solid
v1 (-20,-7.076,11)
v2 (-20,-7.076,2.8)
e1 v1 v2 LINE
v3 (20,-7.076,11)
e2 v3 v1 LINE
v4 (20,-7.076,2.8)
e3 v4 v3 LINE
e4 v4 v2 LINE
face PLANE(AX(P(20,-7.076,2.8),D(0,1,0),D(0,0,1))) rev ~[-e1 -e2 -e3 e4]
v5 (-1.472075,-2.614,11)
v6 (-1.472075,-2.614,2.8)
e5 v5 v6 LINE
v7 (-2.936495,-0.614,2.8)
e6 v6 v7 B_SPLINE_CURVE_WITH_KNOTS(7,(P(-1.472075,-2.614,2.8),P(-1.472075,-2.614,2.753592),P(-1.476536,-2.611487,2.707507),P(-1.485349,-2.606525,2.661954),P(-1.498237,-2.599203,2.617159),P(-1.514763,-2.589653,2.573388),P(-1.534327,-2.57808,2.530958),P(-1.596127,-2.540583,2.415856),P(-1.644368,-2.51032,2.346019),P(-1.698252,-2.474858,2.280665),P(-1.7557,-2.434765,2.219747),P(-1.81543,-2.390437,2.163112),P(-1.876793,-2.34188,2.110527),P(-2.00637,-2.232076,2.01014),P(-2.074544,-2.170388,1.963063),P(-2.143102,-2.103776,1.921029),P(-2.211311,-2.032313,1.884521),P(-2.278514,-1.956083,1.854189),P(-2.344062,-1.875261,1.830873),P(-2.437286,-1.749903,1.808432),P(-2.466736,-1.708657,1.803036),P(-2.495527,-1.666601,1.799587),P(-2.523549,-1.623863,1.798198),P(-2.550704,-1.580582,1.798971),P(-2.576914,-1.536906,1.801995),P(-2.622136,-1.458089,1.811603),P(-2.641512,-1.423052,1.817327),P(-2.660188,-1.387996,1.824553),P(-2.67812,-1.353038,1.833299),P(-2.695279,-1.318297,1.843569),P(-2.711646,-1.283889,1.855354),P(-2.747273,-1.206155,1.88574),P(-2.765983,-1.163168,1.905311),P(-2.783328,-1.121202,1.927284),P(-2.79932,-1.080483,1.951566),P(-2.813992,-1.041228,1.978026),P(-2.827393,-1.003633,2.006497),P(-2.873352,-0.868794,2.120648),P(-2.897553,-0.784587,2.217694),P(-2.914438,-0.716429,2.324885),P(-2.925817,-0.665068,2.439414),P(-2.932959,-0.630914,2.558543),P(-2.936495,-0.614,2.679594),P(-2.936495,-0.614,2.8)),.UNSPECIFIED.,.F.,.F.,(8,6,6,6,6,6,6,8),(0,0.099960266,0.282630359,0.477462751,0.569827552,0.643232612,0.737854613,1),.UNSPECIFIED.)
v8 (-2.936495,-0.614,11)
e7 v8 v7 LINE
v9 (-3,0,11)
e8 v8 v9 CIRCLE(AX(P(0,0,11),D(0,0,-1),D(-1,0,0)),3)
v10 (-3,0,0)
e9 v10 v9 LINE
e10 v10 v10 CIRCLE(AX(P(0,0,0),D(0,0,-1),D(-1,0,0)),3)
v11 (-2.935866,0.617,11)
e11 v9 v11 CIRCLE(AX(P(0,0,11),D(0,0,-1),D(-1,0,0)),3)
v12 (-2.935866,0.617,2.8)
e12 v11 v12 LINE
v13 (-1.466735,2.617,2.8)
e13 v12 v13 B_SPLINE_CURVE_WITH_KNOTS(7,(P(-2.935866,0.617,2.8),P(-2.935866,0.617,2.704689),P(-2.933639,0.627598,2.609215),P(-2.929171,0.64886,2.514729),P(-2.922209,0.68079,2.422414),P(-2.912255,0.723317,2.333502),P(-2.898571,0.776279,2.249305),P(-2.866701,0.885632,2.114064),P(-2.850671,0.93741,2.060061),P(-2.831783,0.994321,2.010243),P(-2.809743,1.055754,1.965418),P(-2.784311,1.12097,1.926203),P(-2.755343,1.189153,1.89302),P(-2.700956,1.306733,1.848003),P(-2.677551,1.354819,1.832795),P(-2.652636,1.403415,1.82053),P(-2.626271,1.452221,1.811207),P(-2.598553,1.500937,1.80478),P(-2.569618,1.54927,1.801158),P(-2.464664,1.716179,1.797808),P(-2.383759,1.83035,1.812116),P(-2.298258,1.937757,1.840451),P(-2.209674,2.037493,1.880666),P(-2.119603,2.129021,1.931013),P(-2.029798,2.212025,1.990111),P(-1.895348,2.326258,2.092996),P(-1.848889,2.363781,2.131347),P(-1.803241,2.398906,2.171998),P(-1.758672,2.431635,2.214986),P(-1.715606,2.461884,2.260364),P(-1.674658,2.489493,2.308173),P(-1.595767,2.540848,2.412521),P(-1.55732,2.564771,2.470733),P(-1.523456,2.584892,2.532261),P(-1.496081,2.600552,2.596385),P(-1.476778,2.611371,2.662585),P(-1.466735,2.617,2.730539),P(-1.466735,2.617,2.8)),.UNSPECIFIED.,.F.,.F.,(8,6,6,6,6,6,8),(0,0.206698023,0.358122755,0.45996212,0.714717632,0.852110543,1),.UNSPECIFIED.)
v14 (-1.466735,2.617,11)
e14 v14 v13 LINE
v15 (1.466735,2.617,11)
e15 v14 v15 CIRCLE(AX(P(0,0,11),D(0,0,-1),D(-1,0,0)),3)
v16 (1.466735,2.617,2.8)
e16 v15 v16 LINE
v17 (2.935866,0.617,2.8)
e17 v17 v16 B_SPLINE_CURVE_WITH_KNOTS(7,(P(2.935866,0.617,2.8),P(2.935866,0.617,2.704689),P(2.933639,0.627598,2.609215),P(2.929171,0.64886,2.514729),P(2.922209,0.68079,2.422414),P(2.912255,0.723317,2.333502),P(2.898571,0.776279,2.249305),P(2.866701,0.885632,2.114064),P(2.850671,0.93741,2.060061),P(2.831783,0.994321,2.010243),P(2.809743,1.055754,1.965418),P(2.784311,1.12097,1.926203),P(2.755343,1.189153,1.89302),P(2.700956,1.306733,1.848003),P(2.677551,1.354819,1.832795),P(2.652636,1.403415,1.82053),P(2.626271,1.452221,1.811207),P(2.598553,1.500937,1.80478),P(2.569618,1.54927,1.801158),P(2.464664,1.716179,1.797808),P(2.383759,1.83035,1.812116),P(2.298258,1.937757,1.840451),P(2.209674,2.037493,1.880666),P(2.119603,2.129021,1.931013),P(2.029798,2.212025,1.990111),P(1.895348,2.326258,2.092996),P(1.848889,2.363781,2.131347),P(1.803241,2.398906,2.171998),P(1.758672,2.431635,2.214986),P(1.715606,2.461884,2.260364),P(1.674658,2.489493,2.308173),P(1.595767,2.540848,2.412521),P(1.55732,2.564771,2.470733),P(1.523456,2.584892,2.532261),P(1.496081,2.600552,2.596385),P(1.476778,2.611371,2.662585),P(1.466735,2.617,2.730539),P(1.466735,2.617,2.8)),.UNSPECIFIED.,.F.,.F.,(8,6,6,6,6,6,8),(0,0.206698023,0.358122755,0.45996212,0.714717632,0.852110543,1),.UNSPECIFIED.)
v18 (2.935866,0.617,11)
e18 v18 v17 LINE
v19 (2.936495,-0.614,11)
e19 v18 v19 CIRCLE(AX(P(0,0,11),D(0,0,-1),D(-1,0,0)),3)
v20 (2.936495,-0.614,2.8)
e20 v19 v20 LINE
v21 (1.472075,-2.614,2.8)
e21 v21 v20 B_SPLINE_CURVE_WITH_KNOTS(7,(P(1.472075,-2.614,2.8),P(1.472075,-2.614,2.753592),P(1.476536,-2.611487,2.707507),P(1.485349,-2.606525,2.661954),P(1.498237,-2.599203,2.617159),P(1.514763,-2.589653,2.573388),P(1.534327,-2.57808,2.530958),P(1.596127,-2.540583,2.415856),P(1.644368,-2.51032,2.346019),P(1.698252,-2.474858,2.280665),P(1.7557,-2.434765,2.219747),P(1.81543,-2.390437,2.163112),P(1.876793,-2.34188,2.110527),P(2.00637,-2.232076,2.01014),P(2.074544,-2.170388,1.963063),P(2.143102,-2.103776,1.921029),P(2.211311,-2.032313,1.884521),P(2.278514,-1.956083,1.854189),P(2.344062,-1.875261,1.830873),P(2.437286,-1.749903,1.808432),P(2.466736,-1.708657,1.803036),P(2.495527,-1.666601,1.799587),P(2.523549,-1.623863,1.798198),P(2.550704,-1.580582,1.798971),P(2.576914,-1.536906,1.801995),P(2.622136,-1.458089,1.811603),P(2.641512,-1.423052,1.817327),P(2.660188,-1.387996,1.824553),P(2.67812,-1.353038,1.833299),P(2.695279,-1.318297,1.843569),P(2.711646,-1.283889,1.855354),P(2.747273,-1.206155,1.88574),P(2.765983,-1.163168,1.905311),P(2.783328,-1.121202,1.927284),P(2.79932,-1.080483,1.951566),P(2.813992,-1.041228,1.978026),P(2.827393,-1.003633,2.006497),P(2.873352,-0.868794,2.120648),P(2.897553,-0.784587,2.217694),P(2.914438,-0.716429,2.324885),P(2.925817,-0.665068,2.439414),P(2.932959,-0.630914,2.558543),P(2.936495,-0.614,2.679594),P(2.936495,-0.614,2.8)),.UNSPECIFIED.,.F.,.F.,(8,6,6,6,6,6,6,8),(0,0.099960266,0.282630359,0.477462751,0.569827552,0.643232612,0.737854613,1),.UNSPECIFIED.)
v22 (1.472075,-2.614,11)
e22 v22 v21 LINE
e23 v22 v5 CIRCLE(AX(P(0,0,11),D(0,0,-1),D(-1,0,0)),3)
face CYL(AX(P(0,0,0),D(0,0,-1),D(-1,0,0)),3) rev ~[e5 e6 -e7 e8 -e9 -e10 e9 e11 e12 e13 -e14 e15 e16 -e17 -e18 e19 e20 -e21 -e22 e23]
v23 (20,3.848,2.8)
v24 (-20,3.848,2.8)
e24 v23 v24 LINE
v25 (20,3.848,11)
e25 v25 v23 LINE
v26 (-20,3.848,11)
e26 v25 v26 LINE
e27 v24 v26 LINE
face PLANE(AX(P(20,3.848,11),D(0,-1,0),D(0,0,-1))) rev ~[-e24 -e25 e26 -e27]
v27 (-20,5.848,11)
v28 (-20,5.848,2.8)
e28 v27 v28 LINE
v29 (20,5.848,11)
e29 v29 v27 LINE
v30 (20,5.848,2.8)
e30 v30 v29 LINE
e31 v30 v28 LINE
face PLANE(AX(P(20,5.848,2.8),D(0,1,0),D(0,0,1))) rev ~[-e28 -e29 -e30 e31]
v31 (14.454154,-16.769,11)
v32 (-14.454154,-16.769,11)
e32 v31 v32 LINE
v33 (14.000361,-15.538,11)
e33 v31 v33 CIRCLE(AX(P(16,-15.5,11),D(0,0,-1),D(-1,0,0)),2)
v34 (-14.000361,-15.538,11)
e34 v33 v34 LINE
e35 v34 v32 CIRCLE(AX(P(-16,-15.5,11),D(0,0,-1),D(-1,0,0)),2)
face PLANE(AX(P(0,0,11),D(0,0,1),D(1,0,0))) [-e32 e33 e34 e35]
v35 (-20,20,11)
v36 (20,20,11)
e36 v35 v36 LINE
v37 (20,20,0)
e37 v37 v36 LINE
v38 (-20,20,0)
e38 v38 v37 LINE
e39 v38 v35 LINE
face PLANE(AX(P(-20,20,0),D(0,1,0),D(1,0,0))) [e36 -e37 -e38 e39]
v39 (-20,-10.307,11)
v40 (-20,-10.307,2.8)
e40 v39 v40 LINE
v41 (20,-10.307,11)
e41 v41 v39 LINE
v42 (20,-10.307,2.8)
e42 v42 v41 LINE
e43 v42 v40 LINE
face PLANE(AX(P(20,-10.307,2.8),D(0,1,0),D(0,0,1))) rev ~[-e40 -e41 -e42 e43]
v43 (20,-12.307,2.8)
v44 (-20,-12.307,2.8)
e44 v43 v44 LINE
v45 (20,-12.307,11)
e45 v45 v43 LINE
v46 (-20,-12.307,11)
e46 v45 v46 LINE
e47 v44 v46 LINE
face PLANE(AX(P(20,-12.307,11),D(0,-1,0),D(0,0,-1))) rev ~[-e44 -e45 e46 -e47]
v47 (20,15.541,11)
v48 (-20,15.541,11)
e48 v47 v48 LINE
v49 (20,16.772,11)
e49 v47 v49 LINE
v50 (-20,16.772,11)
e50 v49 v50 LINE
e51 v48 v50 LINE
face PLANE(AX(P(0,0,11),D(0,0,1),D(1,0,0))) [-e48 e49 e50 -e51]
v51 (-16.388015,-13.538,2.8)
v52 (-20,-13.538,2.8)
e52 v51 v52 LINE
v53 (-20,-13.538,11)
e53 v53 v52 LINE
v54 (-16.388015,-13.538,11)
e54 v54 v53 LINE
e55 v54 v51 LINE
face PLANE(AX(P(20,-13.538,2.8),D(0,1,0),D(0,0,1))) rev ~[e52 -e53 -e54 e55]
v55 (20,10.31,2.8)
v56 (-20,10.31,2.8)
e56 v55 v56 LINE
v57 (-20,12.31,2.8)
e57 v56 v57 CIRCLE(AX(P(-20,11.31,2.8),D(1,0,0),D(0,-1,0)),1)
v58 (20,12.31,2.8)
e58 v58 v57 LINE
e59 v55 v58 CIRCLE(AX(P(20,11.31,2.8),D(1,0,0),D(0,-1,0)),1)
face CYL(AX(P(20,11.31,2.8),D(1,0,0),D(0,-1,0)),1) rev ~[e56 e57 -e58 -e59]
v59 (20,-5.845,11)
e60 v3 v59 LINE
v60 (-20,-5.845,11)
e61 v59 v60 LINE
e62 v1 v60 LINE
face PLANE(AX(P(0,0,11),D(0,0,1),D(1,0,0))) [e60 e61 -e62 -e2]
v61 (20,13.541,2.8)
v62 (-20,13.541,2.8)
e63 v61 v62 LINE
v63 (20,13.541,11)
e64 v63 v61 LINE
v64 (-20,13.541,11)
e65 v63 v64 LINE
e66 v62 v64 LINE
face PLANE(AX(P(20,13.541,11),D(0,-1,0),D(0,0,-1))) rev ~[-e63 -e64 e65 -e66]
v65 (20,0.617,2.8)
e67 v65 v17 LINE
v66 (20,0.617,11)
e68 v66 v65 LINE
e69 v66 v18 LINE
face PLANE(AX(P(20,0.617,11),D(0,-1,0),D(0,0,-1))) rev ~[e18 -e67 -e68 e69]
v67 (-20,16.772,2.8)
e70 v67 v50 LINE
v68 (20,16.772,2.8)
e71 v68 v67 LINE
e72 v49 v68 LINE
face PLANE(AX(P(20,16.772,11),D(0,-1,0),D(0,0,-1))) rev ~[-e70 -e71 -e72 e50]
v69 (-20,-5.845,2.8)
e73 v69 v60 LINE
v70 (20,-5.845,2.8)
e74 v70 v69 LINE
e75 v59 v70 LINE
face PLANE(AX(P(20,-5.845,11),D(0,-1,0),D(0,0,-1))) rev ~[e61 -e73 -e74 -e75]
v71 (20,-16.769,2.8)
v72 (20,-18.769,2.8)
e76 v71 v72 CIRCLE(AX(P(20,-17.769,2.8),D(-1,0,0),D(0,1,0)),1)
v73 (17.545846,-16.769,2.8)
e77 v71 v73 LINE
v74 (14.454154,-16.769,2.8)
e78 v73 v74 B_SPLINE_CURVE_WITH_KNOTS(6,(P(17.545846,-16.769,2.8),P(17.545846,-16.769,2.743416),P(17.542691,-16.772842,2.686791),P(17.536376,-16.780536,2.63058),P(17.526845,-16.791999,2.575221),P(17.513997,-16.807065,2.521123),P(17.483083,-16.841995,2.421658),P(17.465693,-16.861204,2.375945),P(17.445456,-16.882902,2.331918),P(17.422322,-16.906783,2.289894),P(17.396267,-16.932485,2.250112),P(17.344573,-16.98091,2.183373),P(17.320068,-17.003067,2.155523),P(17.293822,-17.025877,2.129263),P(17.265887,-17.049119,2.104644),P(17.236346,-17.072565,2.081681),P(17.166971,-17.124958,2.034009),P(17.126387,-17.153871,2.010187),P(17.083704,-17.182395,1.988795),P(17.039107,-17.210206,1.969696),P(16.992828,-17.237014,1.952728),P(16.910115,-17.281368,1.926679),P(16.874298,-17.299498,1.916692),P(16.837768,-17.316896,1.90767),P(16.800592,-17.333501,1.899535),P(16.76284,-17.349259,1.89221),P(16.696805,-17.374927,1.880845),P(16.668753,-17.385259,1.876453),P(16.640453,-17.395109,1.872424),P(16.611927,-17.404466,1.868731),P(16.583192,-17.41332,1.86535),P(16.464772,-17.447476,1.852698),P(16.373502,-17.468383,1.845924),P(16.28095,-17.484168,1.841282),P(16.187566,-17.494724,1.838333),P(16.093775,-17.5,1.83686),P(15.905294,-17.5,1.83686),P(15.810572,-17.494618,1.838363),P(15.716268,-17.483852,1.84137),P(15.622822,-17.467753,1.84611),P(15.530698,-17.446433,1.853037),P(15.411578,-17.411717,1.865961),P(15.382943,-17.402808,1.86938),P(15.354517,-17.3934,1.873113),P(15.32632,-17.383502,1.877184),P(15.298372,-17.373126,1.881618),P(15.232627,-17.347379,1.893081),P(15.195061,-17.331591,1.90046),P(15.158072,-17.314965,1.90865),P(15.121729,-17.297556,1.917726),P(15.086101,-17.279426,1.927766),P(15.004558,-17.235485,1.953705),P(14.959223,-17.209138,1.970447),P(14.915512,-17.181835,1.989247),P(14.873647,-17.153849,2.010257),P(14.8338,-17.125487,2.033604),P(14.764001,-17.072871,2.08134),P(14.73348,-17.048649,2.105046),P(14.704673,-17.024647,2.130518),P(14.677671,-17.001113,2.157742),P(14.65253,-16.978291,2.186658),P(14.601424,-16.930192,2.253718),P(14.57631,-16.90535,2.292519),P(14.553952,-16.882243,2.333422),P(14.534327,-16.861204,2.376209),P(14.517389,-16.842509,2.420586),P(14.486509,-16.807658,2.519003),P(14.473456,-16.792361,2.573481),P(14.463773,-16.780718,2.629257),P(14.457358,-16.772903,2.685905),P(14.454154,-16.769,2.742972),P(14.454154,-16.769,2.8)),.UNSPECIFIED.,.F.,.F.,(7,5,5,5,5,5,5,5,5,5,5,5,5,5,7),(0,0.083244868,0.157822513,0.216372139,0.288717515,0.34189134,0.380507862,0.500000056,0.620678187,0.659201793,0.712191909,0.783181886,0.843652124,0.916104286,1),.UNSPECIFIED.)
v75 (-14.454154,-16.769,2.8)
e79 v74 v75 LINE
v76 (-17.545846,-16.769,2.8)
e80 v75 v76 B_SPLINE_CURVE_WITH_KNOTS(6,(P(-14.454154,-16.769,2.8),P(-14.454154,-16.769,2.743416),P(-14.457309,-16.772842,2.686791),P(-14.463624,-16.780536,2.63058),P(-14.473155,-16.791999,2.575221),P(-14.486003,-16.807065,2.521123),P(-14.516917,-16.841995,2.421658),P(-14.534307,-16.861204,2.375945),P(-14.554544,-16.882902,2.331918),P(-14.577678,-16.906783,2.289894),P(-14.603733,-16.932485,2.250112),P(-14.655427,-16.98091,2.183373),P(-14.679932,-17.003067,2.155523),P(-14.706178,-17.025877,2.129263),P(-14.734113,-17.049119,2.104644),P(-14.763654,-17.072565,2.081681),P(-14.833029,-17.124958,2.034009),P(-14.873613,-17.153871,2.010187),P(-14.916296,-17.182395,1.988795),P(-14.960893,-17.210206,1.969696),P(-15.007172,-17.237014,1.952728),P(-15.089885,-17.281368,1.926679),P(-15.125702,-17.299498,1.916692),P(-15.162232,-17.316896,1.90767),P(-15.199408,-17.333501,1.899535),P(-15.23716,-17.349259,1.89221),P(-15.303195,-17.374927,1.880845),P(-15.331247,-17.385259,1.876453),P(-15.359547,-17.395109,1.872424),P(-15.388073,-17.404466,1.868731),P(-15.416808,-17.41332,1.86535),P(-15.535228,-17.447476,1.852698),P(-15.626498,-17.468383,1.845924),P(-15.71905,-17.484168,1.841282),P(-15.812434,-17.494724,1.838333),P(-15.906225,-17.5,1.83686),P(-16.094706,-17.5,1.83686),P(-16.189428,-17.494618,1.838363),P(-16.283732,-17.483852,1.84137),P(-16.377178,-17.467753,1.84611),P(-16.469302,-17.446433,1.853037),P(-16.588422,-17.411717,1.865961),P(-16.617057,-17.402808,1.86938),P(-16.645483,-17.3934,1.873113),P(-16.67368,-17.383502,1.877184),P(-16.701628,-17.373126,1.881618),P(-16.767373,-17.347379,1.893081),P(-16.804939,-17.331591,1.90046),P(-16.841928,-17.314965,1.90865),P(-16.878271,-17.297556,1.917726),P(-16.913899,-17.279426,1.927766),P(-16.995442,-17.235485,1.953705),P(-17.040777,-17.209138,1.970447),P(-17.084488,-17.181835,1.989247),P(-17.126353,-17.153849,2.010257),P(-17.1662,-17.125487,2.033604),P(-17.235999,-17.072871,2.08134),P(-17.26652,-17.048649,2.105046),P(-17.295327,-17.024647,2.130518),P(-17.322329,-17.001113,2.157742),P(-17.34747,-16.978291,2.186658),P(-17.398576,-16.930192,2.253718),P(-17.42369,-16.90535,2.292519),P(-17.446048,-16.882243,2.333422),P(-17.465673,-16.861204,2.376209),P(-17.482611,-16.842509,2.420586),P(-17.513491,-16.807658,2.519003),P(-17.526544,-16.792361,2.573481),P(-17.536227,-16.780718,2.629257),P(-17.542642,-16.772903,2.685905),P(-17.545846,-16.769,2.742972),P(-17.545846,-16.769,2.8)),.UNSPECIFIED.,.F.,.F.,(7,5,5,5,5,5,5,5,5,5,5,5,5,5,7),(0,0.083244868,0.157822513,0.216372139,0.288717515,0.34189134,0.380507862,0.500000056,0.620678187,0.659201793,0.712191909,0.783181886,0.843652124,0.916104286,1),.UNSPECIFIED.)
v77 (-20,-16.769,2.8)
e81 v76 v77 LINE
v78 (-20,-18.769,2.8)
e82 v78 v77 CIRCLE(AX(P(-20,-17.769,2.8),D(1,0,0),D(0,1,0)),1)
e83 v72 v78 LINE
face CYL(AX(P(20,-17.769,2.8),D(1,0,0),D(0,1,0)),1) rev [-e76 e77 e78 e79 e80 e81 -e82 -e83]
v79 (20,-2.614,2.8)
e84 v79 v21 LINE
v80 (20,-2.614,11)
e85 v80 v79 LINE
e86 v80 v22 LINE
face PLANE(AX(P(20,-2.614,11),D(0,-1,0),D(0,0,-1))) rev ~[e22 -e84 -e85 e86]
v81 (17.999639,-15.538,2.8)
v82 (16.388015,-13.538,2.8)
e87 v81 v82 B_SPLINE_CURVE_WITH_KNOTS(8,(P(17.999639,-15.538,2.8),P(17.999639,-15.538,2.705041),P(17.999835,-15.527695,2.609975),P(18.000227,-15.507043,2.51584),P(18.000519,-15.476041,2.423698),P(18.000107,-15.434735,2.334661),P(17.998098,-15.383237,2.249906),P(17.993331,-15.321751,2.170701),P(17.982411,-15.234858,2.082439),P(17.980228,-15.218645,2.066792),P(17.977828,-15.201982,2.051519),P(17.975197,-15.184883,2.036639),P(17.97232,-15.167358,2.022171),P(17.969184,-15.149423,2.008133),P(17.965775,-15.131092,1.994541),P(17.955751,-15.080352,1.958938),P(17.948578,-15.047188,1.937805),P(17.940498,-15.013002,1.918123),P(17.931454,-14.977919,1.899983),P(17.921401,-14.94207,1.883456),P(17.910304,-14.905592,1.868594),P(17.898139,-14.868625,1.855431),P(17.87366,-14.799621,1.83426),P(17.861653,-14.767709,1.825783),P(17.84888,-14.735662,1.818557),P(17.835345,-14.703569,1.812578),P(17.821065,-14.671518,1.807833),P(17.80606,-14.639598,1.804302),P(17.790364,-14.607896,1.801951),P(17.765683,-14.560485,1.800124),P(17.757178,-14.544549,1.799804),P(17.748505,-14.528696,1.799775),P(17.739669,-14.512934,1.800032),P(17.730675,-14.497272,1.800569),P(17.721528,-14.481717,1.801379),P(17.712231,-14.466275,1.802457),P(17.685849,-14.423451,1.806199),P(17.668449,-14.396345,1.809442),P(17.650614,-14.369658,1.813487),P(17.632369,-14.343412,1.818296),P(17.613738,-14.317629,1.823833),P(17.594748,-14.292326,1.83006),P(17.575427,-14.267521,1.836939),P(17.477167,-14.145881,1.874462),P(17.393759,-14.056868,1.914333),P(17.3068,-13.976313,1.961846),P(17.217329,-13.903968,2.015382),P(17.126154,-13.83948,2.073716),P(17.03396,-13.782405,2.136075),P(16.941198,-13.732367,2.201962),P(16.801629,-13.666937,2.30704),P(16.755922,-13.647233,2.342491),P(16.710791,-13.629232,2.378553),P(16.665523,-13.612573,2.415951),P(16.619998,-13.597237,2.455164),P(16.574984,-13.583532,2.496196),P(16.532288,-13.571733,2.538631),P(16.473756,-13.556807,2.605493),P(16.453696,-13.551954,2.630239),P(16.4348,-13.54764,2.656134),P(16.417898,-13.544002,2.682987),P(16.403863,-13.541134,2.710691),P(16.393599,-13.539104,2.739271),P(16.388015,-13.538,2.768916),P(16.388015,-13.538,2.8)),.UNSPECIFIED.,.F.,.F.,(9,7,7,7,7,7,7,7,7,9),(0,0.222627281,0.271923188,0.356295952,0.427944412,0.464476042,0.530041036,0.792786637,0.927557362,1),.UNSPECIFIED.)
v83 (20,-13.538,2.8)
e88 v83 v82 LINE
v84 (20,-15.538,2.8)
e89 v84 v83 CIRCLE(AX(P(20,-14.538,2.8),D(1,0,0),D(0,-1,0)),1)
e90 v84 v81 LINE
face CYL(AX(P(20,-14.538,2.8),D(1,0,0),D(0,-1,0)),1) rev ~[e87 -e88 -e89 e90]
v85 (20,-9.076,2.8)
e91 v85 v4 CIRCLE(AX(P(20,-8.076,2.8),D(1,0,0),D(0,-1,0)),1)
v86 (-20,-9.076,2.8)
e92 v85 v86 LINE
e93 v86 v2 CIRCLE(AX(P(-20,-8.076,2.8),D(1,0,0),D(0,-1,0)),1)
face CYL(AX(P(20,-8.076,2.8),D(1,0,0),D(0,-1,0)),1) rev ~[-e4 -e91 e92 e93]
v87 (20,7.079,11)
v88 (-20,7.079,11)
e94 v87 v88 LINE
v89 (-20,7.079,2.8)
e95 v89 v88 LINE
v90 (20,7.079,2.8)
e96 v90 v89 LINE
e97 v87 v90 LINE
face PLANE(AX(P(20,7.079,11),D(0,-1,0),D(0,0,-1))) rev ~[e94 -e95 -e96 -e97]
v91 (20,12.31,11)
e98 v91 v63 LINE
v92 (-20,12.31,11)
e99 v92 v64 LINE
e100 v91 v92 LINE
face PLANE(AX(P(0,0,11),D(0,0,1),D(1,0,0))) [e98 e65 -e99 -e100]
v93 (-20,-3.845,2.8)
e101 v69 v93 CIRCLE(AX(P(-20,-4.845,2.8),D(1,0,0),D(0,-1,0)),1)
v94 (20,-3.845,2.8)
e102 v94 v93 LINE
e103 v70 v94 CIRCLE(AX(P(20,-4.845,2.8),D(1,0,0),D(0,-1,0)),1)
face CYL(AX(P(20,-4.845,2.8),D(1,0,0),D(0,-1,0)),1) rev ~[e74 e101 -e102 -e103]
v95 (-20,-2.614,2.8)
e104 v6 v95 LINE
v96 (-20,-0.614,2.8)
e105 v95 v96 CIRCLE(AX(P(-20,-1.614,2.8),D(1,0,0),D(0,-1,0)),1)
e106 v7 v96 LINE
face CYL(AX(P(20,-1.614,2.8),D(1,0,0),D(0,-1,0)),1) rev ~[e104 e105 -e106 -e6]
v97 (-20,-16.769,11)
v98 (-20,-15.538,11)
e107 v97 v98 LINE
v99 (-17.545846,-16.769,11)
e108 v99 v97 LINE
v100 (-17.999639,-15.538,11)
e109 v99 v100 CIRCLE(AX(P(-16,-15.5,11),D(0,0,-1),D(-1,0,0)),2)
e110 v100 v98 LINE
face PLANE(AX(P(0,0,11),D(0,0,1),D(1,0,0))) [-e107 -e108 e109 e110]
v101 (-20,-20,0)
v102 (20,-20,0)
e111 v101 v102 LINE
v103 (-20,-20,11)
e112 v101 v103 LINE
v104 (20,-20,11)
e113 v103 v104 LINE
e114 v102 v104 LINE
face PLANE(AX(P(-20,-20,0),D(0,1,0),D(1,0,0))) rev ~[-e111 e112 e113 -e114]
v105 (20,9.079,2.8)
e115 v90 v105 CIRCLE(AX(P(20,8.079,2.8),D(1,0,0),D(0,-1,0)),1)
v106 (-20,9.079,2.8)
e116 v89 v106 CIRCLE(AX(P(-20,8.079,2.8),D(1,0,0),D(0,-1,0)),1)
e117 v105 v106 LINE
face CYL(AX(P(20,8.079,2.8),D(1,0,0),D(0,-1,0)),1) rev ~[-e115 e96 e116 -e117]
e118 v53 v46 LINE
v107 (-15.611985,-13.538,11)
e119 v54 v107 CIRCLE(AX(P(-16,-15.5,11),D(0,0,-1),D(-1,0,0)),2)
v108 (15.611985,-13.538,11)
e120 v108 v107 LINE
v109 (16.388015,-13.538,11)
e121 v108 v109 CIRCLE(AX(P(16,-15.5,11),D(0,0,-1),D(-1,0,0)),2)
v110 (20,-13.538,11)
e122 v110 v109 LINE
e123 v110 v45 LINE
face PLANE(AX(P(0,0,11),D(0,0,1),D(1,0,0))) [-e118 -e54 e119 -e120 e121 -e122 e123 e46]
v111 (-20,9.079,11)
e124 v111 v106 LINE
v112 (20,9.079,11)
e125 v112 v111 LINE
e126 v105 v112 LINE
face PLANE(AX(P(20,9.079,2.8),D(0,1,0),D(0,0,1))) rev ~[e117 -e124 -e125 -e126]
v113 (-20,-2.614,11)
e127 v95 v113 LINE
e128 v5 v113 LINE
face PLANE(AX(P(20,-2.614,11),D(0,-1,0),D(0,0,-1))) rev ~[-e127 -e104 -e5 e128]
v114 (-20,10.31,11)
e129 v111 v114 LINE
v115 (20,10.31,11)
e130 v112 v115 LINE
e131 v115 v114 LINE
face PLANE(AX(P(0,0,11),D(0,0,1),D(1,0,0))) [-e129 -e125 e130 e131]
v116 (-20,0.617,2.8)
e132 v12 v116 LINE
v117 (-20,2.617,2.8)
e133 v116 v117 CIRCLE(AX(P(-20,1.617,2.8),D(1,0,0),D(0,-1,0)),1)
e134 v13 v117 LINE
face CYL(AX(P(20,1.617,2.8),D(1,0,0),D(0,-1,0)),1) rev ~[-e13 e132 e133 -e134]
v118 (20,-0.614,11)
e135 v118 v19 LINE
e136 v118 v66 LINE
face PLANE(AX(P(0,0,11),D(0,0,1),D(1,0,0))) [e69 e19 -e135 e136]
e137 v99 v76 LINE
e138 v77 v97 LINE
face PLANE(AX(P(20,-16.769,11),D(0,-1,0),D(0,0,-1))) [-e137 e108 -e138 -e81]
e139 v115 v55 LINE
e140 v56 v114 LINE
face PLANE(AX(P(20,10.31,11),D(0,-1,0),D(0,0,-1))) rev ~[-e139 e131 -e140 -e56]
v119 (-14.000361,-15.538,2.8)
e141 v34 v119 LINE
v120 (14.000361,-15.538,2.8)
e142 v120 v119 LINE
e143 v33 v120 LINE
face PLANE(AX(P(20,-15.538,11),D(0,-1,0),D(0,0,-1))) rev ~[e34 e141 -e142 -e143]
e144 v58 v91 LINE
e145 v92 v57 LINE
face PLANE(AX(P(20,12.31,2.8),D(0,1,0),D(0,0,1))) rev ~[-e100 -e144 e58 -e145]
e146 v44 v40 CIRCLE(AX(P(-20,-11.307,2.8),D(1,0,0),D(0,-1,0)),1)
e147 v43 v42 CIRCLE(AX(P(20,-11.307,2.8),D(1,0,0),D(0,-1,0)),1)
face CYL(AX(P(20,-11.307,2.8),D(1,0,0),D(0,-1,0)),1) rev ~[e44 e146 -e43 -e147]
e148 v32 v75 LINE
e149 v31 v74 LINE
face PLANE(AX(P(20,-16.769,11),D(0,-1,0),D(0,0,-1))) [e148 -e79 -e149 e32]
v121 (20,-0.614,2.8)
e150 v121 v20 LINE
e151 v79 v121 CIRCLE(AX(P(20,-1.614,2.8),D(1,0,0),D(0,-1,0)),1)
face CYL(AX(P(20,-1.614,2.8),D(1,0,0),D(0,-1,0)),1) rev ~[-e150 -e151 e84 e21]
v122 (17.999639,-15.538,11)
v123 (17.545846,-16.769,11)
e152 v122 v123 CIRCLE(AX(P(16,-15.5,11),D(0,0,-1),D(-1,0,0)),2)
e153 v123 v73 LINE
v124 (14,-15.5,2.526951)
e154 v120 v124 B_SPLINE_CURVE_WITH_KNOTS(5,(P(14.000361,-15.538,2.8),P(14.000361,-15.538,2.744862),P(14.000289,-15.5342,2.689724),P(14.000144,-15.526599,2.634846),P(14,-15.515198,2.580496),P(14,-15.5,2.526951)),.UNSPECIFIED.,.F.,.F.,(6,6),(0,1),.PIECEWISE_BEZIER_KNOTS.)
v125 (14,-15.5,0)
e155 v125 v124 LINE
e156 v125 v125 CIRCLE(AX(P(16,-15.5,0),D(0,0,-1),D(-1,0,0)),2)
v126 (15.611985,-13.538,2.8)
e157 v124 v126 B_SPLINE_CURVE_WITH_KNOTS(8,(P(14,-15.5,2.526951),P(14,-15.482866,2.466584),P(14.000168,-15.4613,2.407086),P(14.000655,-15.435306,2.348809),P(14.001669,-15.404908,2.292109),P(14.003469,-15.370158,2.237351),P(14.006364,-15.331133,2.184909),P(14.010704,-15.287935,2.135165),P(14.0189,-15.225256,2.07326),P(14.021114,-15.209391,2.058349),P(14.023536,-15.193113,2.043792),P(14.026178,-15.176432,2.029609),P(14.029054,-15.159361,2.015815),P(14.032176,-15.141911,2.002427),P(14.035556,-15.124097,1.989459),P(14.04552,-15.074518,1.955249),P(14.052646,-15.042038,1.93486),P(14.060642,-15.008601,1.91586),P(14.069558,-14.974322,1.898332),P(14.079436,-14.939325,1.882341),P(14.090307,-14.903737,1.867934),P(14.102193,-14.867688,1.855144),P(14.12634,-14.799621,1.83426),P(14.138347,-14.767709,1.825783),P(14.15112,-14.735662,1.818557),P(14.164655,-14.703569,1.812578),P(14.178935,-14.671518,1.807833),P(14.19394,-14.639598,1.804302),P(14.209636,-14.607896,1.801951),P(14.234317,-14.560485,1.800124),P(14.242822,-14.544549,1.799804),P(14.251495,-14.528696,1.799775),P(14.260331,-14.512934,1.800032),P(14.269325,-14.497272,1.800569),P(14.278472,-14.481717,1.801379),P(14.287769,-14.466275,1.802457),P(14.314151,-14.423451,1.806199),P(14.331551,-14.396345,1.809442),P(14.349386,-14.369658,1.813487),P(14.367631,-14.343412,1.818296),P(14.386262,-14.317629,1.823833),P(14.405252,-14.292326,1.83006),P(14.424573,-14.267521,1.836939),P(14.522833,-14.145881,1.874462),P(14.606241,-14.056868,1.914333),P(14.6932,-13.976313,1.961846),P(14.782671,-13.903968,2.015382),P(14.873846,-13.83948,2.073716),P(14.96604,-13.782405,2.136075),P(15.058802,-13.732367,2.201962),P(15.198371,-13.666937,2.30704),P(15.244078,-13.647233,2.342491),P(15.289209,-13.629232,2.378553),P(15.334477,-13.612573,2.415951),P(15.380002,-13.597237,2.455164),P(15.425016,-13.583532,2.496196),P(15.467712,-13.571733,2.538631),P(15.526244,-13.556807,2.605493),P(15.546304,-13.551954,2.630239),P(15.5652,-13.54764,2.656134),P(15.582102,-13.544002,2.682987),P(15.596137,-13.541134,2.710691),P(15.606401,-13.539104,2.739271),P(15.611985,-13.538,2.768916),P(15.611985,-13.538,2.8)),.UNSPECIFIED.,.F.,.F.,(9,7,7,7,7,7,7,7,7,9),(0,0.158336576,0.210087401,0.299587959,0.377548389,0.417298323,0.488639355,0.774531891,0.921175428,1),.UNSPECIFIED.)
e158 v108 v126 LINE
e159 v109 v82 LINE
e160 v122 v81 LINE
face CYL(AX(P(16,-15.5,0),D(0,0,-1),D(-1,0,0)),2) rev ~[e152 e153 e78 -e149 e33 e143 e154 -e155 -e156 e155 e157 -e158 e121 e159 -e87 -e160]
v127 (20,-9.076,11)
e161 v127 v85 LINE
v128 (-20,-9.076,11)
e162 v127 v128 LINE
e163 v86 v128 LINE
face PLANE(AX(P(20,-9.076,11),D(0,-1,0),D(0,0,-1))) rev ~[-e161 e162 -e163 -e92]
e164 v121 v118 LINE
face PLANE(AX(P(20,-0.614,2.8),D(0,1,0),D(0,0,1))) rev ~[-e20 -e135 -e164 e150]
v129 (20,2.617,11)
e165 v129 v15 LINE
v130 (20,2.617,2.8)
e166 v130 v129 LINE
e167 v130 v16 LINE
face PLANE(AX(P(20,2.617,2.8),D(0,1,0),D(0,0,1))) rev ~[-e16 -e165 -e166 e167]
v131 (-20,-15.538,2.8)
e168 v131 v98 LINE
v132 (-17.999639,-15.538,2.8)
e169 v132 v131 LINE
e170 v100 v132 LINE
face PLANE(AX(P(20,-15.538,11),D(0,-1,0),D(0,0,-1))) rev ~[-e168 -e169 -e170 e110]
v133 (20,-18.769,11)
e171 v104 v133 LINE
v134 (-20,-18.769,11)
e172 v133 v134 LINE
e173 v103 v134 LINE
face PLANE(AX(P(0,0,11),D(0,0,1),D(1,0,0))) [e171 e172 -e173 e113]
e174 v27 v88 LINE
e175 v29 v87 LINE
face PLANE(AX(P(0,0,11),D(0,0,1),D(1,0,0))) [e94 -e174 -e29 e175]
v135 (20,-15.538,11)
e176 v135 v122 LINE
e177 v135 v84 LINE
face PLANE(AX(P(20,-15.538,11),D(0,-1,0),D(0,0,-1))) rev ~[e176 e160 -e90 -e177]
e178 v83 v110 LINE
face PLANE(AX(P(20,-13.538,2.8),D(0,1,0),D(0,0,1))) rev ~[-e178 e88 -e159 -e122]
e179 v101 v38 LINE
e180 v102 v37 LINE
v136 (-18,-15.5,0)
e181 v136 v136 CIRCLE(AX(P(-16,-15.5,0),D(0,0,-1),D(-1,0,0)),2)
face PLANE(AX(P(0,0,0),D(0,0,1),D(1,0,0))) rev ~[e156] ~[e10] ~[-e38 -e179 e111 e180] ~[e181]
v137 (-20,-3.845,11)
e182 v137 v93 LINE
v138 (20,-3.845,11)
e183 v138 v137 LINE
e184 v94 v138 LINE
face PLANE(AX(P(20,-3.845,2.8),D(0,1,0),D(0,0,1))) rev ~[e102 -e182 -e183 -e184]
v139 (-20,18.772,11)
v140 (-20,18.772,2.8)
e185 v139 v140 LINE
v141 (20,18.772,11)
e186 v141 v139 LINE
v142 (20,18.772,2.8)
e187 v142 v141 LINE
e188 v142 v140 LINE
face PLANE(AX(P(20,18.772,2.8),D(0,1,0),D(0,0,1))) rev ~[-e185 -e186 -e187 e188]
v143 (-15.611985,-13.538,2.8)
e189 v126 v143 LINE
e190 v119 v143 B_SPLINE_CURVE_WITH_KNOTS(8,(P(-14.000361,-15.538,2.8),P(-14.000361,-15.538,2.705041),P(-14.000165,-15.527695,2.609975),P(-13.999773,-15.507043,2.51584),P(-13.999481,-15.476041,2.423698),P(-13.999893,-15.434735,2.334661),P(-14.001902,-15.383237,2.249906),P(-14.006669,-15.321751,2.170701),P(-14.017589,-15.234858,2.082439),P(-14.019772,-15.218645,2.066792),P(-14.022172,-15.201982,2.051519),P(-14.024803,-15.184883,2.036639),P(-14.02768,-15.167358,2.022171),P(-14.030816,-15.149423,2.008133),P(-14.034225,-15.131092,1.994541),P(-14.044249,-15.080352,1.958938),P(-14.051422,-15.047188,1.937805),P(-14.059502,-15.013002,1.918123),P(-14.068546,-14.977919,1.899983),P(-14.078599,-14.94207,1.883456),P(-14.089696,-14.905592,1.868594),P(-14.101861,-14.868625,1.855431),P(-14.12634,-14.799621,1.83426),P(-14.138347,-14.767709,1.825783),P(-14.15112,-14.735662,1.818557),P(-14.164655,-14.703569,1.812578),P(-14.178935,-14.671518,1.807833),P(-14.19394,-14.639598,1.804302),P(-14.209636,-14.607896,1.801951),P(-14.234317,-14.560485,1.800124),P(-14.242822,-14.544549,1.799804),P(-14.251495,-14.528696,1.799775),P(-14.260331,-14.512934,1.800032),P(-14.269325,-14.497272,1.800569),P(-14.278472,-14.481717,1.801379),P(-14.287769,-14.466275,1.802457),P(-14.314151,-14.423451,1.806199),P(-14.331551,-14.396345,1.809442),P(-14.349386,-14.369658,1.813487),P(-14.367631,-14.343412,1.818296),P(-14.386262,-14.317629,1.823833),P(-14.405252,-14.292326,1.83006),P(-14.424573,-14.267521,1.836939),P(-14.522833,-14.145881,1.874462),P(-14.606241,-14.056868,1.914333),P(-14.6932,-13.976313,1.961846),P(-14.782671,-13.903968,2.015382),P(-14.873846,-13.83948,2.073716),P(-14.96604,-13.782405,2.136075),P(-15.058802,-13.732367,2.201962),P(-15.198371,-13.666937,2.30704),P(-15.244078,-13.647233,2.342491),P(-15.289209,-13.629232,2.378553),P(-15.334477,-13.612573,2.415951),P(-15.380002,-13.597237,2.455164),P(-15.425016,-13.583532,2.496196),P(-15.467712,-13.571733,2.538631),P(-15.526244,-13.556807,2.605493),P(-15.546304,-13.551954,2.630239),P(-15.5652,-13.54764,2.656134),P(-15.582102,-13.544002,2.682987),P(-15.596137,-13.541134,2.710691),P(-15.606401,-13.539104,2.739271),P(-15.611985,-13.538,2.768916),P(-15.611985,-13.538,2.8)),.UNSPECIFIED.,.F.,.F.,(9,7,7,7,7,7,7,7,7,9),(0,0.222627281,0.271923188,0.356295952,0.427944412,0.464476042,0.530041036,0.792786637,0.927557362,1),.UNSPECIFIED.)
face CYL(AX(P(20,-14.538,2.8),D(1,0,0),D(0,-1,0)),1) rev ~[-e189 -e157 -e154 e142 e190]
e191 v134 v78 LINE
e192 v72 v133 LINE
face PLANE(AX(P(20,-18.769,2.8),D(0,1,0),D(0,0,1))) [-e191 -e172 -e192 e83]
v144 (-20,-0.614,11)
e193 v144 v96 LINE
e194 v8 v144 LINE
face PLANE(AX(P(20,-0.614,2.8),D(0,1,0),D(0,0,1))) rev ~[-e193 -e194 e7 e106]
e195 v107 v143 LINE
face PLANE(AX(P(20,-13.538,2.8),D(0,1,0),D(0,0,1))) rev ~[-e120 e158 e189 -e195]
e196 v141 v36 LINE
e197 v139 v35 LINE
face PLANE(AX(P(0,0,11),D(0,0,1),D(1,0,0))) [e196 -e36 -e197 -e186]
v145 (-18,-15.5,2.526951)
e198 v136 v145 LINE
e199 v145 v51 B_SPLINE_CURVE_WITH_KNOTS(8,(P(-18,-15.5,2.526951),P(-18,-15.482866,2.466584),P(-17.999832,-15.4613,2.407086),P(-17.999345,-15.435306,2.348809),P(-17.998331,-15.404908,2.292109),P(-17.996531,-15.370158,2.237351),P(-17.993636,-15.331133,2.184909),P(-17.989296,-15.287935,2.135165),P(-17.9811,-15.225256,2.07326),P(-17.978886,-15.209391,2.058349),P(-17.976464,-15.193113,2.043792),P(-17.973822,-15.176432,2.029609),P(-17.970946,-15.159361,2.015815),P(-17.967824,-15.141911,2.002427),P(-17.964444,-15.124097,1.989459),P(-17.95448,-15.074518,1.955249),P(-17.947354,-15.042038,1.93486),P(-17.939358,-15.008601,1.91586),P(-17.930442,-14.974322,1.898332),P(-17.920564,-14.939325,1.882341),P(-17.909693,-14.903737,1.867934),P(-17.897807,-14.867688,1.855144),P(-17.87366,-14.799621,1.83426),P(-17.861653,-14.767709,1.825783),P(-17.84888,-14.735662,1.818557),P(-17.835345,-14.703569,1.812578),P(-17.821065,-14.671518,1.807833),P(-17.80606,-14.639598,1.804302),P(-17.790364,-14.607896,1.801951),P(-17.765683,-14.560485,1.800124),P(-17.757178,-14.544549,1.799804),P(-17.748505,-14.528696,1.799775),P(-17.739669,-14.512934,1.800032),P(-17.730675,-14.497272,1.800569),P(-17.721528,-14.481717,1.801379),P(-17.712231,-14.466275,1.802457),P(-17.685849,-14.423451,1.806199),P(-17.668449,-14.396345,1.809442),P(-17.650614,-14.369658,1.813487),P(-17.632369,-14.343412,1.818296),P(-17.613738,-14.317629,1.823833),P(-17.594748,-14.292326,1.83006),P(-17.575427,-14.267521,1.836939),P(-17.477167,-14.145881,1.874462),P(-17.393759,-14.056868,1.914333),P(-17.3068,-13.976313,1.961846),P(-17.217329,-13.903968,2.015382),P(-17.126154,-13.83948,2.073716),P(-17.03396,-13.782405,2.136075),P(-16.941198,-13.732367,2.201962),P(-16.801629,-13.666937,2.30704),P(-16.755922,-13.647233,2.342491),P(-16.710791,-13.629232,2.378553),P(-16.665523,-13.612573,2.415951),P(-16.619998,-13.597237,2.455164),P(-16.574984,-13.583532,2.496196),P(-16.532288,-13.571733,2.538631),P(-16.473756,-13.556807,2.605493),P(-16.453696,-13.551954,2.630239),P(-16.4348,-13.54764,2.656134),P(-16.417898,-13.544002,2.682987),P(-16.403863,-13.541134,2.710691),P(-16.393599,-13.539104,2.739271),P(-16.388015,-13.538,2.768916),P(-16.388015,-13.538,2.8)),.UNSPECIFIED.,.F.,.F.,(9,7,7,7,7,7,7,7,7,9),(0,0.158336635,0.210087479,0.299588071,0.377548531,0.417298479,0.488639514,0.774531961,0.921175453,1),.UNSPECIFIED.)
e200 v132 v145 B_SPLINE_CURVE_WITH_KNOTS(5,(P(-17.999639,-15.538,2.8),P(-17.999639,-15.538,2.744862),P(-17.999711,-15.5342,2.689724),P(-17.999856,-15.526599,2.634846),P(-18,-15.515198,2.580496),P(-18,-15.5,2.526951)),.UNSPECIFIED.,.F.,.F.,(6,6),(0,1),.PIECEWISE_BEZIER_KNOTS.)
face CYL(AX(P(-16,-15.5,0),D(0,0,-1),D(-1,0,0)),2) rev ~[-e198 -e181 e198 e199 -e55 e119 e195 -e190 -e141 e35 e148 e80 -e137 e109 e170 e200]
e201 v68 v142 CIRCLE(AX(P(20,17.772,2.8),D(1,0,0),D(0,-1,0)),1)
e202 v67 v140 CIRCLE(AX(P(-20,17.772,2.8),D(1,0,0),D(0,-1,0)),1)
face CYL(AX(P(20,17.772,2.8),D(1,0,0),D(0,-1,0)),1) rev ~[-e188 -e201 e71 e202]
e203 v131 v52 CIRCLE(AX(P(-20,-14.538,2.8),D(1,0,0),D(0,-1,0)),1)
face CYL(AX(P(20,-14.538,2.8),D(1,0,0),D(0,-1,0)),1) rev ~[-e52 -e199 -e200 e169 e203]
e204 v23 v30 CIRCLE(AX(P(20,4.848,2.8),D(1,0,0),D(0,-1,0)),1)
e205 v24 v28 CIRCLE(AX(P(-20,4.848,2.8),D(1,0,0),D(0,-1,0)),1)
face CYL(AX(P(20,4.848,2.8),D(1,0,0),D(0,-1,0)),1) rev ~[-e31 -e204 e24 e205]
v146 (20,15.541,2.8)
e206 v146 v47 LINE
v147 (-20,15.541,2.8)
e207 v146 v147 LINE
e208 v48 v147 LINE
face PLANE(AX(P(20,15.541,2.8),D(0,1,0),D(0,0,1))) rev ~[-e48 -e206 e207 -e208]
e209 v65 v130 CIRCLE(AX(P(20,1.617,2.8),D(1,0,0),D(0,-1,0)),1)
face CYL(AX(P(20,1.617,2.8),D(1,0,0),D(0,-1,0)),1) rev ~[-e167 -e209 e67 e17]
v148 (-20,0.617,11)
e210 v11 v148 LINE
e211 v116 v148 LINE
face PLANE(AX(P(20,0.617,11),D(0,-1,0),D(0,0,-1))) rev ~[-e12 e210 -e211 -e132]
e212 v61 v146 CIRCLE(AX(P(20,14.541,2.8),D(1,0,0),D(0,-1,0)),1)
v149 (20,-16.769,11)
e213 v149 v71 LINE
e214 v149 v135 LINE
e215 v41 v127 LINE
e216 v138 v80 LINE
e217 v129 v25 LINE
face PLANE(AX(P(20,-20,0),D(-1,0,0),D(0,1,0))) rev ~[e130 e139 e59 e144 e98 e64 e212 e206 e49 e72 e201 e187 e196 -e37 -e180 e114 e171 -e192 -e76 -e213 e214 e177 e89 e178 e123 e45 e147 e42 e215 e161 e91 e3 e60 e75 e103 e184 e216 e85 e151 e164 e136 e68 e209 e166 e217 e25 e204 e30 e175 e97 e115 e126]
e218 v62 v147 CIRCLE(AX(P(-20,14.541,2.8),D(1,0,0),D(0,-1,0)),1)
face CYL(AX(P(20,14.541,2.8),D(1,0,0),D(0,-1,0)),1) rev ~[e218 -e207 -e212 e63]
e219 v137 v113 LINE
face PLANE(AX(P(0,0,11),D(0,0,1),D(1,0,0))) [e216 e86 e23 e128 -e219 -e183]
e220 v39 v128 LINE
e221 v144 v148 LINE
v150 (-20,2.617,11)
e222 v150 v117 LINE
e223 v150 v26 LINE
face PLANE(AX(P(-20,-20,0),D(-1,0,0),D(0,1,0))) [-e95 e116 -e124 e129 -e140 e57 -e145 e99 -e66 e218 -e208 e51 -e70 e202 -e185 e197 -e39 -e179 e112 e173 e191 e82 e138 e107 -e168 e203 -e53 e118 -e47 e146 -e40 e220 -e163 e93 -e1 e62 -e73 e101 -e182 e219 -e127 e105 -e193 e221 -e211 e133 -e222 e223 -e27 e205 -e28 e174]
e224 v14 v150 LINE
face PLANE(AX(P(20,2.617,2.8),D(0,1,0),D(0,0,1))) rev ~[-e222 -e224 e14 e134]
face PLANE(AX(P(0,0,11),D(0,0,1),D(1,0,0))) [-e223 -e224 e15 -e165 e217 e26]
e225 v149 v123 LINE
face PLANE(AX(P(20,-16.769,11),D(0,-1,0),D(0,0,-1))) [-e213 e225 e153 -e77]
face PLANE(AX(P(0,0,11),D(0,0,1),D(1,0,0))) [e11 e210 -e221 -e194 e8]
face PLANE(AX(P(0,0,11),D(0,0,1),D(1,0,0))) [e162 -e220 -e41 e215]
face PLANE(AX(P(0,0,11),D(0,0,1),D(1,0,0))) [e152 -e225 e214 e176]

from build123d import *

# Parameters (mm, degrees)
SKETCH1_W           = 40
SKETCH1_H           = 40
BOSS_EXTRUDE1_DEPTH = 11
CUT_EXTRUDE1_DEPTH  = 47.054315759
SKETCH4_R           = 2
SKETCH4_R_2         = 3
CUT_EXTRUDE2_DEPTH  = 31.347981811


with BuildPart() as part:
    # Sketch1 → Boss-Extrude1 (new body)
    with BuildSketch(Plane.XY):
        Rectangle(SKETCH1_W, SKETCH1_H)
    extrude(amount=BOSS_EXTRUDE1_DEPTH)

    # Sketch3 → Cut-Extrude1 (cut, through all)
    with BuildSketch(Plane(origin=(20, 0, 0), x_dir=(0, 0, -1), z_dir=(1, 0, 0))):
        with BuildLine():
            Line((-11, -18.769), (-11, -16.769))
            Line((-11, -16.769), (-2.8, -16.769))
            ThreePointArc((-2.8, -16.769), (-1.8, -17.769), (-2.8, -18.769))
            Line((-2.8, -18.769), (-11, -18.769))
        make_face()
        with BuildLine():
            Line((-2.8, -13.538), (-11, -13.538))
            Line((-11, -13.538), (-11, -15.538))
            Line((-11, -15.538), (-2.8, -15.538))
            ThreePointArc((-2.8, -15.538), (-1.8, -14.538), (-2.8, -13.538))
        make_face()
        with BuildLine():
            Line((-2.8, -10.307), (-11, -10.307))
            Line((-11, -10.307), (-11, -12.307))
            Line((-11, -12.307), (-2.8, -12.307))
            ThreePointArc((-2.8, -12.307), (-1.8, -11.307), (-2.8, -10.307))
        make_face()
        with BuildLine():
            Line((-2.8, -7.076), (-11, -7.076))
            Line((-11, -7.076), (-11, -9.076))
            Line((-11, -9.076), (-2.8, -9.076))
            ThreePointArc((-2.8, -9.076), (-1.8, -8.076), (-2.8, -7.076))
        make_face()
        with BuildLine():
            Line((-2.8, -3.845), (-11, -3.845))
            Line((-11, -3.845), (-11, -5.845))
            Line((-11, -5.845), (-2.8, -5.845))
            ThreePointArc((-2.8, -5.845), (-1.8, -4.845), (-2.8, -3.845))
        make_face()
        with BuildLine():
            Line((-2.8, -0.614), (-11, -0.614))
            Line((-11, -0.614), (-11, -2.614))
            Line((-11, -2.614), (-2.8, -2.614))
            ThreePointArc((-2.8, -2.614), (-1.8, -1.614), (-2.8, -0.614))
        make_face()
        with BuildLine():
            Line((-2.8, 2.617), (-11, 2.617))
            Line((-11, 2.617), (-11, 0.617))
            Line((-11, 0.617), (-2.8, 0.617))
            ThreePointArc((-2.8, 0.617), (-1.8, 1.617), (-2.8, 2.617))
        make_face()
        with BuildLine():
            Line((-2.8, 5.848), (-11, 5.848))
            Line((-11, 5.848), (-11, 3.848))
            Line((-11, 3.848), (-2.8, 3.848))
            ThreePointArc((-2.8, 3.848), (-1.8, 4.848), (-2.8, 5.848))
        make_face()
        with BuildLine():
            Line((-2.8, 9.079), (-11, 9.079))
            Line((-11, 9.079), (-11, 7.079))
            Line((-11, 7.079), (-2.8, 7.079))
            ThreePointArc((-2.8, 7.079), (-1.8, 8.079), (-2.8, 9.079))
        make_face()
        with BuildLine():
            Line((-2.8, 12.31), (-11, 12.31))
            Line((-11, 12.31), (-11, 10.31))
            Line((-11, 10.31), (-2.8, 10.31))
            ThreePointArc((-2.8, 10.31), (-1.8, 11.31), (-2.8, 12.31))
        make_face()
        with BuildLine():
            Line((-2.8, 15.541), (-11, 15.541))
            Line((-11, 15.541), (-11, 13.541))
            Line((-11, 13.541), (-2.8, 13.541))
            ThreePointArc((-2.8, 13.541), (-1.8, 14.541), (-2.8, 15.541))
        make_face()
        with BuildLine():
            Line((-2.8, 18.772), (-11, 18.772))
            Line((-11, 18.772), (-11, 16.772))
            Line((-11, 16.772), (-2.8, 16.772))
            ThreePointArc((-2.8, 16.772), (-1.8, 17.772), (-2.8, 18.772))
        make_face()
    extrude(amount=-CUT_EXTRUDE1_DEPTH, mode=Mode.SUBTRACT)

    # Sketch4 → Cut-Extrude2 (cut, through all)
    with BuildSketch(Plane(origin=(0, 0, 0), x_dir=(-1, 0, 0), z_dir=(0, 0, -1))):
        with Locations((16, -15.5)):
            Circle(SKETCH4_R)
        with Locations((-16, -15.5)):
            Circle(SKETCH4_R)
        Circle(SKETCH4_R_2)
    extrude(amount=-CUT_EXTRUDE2_DEPTH, mode=Mode.SUBTRACT)


solid = part.part
